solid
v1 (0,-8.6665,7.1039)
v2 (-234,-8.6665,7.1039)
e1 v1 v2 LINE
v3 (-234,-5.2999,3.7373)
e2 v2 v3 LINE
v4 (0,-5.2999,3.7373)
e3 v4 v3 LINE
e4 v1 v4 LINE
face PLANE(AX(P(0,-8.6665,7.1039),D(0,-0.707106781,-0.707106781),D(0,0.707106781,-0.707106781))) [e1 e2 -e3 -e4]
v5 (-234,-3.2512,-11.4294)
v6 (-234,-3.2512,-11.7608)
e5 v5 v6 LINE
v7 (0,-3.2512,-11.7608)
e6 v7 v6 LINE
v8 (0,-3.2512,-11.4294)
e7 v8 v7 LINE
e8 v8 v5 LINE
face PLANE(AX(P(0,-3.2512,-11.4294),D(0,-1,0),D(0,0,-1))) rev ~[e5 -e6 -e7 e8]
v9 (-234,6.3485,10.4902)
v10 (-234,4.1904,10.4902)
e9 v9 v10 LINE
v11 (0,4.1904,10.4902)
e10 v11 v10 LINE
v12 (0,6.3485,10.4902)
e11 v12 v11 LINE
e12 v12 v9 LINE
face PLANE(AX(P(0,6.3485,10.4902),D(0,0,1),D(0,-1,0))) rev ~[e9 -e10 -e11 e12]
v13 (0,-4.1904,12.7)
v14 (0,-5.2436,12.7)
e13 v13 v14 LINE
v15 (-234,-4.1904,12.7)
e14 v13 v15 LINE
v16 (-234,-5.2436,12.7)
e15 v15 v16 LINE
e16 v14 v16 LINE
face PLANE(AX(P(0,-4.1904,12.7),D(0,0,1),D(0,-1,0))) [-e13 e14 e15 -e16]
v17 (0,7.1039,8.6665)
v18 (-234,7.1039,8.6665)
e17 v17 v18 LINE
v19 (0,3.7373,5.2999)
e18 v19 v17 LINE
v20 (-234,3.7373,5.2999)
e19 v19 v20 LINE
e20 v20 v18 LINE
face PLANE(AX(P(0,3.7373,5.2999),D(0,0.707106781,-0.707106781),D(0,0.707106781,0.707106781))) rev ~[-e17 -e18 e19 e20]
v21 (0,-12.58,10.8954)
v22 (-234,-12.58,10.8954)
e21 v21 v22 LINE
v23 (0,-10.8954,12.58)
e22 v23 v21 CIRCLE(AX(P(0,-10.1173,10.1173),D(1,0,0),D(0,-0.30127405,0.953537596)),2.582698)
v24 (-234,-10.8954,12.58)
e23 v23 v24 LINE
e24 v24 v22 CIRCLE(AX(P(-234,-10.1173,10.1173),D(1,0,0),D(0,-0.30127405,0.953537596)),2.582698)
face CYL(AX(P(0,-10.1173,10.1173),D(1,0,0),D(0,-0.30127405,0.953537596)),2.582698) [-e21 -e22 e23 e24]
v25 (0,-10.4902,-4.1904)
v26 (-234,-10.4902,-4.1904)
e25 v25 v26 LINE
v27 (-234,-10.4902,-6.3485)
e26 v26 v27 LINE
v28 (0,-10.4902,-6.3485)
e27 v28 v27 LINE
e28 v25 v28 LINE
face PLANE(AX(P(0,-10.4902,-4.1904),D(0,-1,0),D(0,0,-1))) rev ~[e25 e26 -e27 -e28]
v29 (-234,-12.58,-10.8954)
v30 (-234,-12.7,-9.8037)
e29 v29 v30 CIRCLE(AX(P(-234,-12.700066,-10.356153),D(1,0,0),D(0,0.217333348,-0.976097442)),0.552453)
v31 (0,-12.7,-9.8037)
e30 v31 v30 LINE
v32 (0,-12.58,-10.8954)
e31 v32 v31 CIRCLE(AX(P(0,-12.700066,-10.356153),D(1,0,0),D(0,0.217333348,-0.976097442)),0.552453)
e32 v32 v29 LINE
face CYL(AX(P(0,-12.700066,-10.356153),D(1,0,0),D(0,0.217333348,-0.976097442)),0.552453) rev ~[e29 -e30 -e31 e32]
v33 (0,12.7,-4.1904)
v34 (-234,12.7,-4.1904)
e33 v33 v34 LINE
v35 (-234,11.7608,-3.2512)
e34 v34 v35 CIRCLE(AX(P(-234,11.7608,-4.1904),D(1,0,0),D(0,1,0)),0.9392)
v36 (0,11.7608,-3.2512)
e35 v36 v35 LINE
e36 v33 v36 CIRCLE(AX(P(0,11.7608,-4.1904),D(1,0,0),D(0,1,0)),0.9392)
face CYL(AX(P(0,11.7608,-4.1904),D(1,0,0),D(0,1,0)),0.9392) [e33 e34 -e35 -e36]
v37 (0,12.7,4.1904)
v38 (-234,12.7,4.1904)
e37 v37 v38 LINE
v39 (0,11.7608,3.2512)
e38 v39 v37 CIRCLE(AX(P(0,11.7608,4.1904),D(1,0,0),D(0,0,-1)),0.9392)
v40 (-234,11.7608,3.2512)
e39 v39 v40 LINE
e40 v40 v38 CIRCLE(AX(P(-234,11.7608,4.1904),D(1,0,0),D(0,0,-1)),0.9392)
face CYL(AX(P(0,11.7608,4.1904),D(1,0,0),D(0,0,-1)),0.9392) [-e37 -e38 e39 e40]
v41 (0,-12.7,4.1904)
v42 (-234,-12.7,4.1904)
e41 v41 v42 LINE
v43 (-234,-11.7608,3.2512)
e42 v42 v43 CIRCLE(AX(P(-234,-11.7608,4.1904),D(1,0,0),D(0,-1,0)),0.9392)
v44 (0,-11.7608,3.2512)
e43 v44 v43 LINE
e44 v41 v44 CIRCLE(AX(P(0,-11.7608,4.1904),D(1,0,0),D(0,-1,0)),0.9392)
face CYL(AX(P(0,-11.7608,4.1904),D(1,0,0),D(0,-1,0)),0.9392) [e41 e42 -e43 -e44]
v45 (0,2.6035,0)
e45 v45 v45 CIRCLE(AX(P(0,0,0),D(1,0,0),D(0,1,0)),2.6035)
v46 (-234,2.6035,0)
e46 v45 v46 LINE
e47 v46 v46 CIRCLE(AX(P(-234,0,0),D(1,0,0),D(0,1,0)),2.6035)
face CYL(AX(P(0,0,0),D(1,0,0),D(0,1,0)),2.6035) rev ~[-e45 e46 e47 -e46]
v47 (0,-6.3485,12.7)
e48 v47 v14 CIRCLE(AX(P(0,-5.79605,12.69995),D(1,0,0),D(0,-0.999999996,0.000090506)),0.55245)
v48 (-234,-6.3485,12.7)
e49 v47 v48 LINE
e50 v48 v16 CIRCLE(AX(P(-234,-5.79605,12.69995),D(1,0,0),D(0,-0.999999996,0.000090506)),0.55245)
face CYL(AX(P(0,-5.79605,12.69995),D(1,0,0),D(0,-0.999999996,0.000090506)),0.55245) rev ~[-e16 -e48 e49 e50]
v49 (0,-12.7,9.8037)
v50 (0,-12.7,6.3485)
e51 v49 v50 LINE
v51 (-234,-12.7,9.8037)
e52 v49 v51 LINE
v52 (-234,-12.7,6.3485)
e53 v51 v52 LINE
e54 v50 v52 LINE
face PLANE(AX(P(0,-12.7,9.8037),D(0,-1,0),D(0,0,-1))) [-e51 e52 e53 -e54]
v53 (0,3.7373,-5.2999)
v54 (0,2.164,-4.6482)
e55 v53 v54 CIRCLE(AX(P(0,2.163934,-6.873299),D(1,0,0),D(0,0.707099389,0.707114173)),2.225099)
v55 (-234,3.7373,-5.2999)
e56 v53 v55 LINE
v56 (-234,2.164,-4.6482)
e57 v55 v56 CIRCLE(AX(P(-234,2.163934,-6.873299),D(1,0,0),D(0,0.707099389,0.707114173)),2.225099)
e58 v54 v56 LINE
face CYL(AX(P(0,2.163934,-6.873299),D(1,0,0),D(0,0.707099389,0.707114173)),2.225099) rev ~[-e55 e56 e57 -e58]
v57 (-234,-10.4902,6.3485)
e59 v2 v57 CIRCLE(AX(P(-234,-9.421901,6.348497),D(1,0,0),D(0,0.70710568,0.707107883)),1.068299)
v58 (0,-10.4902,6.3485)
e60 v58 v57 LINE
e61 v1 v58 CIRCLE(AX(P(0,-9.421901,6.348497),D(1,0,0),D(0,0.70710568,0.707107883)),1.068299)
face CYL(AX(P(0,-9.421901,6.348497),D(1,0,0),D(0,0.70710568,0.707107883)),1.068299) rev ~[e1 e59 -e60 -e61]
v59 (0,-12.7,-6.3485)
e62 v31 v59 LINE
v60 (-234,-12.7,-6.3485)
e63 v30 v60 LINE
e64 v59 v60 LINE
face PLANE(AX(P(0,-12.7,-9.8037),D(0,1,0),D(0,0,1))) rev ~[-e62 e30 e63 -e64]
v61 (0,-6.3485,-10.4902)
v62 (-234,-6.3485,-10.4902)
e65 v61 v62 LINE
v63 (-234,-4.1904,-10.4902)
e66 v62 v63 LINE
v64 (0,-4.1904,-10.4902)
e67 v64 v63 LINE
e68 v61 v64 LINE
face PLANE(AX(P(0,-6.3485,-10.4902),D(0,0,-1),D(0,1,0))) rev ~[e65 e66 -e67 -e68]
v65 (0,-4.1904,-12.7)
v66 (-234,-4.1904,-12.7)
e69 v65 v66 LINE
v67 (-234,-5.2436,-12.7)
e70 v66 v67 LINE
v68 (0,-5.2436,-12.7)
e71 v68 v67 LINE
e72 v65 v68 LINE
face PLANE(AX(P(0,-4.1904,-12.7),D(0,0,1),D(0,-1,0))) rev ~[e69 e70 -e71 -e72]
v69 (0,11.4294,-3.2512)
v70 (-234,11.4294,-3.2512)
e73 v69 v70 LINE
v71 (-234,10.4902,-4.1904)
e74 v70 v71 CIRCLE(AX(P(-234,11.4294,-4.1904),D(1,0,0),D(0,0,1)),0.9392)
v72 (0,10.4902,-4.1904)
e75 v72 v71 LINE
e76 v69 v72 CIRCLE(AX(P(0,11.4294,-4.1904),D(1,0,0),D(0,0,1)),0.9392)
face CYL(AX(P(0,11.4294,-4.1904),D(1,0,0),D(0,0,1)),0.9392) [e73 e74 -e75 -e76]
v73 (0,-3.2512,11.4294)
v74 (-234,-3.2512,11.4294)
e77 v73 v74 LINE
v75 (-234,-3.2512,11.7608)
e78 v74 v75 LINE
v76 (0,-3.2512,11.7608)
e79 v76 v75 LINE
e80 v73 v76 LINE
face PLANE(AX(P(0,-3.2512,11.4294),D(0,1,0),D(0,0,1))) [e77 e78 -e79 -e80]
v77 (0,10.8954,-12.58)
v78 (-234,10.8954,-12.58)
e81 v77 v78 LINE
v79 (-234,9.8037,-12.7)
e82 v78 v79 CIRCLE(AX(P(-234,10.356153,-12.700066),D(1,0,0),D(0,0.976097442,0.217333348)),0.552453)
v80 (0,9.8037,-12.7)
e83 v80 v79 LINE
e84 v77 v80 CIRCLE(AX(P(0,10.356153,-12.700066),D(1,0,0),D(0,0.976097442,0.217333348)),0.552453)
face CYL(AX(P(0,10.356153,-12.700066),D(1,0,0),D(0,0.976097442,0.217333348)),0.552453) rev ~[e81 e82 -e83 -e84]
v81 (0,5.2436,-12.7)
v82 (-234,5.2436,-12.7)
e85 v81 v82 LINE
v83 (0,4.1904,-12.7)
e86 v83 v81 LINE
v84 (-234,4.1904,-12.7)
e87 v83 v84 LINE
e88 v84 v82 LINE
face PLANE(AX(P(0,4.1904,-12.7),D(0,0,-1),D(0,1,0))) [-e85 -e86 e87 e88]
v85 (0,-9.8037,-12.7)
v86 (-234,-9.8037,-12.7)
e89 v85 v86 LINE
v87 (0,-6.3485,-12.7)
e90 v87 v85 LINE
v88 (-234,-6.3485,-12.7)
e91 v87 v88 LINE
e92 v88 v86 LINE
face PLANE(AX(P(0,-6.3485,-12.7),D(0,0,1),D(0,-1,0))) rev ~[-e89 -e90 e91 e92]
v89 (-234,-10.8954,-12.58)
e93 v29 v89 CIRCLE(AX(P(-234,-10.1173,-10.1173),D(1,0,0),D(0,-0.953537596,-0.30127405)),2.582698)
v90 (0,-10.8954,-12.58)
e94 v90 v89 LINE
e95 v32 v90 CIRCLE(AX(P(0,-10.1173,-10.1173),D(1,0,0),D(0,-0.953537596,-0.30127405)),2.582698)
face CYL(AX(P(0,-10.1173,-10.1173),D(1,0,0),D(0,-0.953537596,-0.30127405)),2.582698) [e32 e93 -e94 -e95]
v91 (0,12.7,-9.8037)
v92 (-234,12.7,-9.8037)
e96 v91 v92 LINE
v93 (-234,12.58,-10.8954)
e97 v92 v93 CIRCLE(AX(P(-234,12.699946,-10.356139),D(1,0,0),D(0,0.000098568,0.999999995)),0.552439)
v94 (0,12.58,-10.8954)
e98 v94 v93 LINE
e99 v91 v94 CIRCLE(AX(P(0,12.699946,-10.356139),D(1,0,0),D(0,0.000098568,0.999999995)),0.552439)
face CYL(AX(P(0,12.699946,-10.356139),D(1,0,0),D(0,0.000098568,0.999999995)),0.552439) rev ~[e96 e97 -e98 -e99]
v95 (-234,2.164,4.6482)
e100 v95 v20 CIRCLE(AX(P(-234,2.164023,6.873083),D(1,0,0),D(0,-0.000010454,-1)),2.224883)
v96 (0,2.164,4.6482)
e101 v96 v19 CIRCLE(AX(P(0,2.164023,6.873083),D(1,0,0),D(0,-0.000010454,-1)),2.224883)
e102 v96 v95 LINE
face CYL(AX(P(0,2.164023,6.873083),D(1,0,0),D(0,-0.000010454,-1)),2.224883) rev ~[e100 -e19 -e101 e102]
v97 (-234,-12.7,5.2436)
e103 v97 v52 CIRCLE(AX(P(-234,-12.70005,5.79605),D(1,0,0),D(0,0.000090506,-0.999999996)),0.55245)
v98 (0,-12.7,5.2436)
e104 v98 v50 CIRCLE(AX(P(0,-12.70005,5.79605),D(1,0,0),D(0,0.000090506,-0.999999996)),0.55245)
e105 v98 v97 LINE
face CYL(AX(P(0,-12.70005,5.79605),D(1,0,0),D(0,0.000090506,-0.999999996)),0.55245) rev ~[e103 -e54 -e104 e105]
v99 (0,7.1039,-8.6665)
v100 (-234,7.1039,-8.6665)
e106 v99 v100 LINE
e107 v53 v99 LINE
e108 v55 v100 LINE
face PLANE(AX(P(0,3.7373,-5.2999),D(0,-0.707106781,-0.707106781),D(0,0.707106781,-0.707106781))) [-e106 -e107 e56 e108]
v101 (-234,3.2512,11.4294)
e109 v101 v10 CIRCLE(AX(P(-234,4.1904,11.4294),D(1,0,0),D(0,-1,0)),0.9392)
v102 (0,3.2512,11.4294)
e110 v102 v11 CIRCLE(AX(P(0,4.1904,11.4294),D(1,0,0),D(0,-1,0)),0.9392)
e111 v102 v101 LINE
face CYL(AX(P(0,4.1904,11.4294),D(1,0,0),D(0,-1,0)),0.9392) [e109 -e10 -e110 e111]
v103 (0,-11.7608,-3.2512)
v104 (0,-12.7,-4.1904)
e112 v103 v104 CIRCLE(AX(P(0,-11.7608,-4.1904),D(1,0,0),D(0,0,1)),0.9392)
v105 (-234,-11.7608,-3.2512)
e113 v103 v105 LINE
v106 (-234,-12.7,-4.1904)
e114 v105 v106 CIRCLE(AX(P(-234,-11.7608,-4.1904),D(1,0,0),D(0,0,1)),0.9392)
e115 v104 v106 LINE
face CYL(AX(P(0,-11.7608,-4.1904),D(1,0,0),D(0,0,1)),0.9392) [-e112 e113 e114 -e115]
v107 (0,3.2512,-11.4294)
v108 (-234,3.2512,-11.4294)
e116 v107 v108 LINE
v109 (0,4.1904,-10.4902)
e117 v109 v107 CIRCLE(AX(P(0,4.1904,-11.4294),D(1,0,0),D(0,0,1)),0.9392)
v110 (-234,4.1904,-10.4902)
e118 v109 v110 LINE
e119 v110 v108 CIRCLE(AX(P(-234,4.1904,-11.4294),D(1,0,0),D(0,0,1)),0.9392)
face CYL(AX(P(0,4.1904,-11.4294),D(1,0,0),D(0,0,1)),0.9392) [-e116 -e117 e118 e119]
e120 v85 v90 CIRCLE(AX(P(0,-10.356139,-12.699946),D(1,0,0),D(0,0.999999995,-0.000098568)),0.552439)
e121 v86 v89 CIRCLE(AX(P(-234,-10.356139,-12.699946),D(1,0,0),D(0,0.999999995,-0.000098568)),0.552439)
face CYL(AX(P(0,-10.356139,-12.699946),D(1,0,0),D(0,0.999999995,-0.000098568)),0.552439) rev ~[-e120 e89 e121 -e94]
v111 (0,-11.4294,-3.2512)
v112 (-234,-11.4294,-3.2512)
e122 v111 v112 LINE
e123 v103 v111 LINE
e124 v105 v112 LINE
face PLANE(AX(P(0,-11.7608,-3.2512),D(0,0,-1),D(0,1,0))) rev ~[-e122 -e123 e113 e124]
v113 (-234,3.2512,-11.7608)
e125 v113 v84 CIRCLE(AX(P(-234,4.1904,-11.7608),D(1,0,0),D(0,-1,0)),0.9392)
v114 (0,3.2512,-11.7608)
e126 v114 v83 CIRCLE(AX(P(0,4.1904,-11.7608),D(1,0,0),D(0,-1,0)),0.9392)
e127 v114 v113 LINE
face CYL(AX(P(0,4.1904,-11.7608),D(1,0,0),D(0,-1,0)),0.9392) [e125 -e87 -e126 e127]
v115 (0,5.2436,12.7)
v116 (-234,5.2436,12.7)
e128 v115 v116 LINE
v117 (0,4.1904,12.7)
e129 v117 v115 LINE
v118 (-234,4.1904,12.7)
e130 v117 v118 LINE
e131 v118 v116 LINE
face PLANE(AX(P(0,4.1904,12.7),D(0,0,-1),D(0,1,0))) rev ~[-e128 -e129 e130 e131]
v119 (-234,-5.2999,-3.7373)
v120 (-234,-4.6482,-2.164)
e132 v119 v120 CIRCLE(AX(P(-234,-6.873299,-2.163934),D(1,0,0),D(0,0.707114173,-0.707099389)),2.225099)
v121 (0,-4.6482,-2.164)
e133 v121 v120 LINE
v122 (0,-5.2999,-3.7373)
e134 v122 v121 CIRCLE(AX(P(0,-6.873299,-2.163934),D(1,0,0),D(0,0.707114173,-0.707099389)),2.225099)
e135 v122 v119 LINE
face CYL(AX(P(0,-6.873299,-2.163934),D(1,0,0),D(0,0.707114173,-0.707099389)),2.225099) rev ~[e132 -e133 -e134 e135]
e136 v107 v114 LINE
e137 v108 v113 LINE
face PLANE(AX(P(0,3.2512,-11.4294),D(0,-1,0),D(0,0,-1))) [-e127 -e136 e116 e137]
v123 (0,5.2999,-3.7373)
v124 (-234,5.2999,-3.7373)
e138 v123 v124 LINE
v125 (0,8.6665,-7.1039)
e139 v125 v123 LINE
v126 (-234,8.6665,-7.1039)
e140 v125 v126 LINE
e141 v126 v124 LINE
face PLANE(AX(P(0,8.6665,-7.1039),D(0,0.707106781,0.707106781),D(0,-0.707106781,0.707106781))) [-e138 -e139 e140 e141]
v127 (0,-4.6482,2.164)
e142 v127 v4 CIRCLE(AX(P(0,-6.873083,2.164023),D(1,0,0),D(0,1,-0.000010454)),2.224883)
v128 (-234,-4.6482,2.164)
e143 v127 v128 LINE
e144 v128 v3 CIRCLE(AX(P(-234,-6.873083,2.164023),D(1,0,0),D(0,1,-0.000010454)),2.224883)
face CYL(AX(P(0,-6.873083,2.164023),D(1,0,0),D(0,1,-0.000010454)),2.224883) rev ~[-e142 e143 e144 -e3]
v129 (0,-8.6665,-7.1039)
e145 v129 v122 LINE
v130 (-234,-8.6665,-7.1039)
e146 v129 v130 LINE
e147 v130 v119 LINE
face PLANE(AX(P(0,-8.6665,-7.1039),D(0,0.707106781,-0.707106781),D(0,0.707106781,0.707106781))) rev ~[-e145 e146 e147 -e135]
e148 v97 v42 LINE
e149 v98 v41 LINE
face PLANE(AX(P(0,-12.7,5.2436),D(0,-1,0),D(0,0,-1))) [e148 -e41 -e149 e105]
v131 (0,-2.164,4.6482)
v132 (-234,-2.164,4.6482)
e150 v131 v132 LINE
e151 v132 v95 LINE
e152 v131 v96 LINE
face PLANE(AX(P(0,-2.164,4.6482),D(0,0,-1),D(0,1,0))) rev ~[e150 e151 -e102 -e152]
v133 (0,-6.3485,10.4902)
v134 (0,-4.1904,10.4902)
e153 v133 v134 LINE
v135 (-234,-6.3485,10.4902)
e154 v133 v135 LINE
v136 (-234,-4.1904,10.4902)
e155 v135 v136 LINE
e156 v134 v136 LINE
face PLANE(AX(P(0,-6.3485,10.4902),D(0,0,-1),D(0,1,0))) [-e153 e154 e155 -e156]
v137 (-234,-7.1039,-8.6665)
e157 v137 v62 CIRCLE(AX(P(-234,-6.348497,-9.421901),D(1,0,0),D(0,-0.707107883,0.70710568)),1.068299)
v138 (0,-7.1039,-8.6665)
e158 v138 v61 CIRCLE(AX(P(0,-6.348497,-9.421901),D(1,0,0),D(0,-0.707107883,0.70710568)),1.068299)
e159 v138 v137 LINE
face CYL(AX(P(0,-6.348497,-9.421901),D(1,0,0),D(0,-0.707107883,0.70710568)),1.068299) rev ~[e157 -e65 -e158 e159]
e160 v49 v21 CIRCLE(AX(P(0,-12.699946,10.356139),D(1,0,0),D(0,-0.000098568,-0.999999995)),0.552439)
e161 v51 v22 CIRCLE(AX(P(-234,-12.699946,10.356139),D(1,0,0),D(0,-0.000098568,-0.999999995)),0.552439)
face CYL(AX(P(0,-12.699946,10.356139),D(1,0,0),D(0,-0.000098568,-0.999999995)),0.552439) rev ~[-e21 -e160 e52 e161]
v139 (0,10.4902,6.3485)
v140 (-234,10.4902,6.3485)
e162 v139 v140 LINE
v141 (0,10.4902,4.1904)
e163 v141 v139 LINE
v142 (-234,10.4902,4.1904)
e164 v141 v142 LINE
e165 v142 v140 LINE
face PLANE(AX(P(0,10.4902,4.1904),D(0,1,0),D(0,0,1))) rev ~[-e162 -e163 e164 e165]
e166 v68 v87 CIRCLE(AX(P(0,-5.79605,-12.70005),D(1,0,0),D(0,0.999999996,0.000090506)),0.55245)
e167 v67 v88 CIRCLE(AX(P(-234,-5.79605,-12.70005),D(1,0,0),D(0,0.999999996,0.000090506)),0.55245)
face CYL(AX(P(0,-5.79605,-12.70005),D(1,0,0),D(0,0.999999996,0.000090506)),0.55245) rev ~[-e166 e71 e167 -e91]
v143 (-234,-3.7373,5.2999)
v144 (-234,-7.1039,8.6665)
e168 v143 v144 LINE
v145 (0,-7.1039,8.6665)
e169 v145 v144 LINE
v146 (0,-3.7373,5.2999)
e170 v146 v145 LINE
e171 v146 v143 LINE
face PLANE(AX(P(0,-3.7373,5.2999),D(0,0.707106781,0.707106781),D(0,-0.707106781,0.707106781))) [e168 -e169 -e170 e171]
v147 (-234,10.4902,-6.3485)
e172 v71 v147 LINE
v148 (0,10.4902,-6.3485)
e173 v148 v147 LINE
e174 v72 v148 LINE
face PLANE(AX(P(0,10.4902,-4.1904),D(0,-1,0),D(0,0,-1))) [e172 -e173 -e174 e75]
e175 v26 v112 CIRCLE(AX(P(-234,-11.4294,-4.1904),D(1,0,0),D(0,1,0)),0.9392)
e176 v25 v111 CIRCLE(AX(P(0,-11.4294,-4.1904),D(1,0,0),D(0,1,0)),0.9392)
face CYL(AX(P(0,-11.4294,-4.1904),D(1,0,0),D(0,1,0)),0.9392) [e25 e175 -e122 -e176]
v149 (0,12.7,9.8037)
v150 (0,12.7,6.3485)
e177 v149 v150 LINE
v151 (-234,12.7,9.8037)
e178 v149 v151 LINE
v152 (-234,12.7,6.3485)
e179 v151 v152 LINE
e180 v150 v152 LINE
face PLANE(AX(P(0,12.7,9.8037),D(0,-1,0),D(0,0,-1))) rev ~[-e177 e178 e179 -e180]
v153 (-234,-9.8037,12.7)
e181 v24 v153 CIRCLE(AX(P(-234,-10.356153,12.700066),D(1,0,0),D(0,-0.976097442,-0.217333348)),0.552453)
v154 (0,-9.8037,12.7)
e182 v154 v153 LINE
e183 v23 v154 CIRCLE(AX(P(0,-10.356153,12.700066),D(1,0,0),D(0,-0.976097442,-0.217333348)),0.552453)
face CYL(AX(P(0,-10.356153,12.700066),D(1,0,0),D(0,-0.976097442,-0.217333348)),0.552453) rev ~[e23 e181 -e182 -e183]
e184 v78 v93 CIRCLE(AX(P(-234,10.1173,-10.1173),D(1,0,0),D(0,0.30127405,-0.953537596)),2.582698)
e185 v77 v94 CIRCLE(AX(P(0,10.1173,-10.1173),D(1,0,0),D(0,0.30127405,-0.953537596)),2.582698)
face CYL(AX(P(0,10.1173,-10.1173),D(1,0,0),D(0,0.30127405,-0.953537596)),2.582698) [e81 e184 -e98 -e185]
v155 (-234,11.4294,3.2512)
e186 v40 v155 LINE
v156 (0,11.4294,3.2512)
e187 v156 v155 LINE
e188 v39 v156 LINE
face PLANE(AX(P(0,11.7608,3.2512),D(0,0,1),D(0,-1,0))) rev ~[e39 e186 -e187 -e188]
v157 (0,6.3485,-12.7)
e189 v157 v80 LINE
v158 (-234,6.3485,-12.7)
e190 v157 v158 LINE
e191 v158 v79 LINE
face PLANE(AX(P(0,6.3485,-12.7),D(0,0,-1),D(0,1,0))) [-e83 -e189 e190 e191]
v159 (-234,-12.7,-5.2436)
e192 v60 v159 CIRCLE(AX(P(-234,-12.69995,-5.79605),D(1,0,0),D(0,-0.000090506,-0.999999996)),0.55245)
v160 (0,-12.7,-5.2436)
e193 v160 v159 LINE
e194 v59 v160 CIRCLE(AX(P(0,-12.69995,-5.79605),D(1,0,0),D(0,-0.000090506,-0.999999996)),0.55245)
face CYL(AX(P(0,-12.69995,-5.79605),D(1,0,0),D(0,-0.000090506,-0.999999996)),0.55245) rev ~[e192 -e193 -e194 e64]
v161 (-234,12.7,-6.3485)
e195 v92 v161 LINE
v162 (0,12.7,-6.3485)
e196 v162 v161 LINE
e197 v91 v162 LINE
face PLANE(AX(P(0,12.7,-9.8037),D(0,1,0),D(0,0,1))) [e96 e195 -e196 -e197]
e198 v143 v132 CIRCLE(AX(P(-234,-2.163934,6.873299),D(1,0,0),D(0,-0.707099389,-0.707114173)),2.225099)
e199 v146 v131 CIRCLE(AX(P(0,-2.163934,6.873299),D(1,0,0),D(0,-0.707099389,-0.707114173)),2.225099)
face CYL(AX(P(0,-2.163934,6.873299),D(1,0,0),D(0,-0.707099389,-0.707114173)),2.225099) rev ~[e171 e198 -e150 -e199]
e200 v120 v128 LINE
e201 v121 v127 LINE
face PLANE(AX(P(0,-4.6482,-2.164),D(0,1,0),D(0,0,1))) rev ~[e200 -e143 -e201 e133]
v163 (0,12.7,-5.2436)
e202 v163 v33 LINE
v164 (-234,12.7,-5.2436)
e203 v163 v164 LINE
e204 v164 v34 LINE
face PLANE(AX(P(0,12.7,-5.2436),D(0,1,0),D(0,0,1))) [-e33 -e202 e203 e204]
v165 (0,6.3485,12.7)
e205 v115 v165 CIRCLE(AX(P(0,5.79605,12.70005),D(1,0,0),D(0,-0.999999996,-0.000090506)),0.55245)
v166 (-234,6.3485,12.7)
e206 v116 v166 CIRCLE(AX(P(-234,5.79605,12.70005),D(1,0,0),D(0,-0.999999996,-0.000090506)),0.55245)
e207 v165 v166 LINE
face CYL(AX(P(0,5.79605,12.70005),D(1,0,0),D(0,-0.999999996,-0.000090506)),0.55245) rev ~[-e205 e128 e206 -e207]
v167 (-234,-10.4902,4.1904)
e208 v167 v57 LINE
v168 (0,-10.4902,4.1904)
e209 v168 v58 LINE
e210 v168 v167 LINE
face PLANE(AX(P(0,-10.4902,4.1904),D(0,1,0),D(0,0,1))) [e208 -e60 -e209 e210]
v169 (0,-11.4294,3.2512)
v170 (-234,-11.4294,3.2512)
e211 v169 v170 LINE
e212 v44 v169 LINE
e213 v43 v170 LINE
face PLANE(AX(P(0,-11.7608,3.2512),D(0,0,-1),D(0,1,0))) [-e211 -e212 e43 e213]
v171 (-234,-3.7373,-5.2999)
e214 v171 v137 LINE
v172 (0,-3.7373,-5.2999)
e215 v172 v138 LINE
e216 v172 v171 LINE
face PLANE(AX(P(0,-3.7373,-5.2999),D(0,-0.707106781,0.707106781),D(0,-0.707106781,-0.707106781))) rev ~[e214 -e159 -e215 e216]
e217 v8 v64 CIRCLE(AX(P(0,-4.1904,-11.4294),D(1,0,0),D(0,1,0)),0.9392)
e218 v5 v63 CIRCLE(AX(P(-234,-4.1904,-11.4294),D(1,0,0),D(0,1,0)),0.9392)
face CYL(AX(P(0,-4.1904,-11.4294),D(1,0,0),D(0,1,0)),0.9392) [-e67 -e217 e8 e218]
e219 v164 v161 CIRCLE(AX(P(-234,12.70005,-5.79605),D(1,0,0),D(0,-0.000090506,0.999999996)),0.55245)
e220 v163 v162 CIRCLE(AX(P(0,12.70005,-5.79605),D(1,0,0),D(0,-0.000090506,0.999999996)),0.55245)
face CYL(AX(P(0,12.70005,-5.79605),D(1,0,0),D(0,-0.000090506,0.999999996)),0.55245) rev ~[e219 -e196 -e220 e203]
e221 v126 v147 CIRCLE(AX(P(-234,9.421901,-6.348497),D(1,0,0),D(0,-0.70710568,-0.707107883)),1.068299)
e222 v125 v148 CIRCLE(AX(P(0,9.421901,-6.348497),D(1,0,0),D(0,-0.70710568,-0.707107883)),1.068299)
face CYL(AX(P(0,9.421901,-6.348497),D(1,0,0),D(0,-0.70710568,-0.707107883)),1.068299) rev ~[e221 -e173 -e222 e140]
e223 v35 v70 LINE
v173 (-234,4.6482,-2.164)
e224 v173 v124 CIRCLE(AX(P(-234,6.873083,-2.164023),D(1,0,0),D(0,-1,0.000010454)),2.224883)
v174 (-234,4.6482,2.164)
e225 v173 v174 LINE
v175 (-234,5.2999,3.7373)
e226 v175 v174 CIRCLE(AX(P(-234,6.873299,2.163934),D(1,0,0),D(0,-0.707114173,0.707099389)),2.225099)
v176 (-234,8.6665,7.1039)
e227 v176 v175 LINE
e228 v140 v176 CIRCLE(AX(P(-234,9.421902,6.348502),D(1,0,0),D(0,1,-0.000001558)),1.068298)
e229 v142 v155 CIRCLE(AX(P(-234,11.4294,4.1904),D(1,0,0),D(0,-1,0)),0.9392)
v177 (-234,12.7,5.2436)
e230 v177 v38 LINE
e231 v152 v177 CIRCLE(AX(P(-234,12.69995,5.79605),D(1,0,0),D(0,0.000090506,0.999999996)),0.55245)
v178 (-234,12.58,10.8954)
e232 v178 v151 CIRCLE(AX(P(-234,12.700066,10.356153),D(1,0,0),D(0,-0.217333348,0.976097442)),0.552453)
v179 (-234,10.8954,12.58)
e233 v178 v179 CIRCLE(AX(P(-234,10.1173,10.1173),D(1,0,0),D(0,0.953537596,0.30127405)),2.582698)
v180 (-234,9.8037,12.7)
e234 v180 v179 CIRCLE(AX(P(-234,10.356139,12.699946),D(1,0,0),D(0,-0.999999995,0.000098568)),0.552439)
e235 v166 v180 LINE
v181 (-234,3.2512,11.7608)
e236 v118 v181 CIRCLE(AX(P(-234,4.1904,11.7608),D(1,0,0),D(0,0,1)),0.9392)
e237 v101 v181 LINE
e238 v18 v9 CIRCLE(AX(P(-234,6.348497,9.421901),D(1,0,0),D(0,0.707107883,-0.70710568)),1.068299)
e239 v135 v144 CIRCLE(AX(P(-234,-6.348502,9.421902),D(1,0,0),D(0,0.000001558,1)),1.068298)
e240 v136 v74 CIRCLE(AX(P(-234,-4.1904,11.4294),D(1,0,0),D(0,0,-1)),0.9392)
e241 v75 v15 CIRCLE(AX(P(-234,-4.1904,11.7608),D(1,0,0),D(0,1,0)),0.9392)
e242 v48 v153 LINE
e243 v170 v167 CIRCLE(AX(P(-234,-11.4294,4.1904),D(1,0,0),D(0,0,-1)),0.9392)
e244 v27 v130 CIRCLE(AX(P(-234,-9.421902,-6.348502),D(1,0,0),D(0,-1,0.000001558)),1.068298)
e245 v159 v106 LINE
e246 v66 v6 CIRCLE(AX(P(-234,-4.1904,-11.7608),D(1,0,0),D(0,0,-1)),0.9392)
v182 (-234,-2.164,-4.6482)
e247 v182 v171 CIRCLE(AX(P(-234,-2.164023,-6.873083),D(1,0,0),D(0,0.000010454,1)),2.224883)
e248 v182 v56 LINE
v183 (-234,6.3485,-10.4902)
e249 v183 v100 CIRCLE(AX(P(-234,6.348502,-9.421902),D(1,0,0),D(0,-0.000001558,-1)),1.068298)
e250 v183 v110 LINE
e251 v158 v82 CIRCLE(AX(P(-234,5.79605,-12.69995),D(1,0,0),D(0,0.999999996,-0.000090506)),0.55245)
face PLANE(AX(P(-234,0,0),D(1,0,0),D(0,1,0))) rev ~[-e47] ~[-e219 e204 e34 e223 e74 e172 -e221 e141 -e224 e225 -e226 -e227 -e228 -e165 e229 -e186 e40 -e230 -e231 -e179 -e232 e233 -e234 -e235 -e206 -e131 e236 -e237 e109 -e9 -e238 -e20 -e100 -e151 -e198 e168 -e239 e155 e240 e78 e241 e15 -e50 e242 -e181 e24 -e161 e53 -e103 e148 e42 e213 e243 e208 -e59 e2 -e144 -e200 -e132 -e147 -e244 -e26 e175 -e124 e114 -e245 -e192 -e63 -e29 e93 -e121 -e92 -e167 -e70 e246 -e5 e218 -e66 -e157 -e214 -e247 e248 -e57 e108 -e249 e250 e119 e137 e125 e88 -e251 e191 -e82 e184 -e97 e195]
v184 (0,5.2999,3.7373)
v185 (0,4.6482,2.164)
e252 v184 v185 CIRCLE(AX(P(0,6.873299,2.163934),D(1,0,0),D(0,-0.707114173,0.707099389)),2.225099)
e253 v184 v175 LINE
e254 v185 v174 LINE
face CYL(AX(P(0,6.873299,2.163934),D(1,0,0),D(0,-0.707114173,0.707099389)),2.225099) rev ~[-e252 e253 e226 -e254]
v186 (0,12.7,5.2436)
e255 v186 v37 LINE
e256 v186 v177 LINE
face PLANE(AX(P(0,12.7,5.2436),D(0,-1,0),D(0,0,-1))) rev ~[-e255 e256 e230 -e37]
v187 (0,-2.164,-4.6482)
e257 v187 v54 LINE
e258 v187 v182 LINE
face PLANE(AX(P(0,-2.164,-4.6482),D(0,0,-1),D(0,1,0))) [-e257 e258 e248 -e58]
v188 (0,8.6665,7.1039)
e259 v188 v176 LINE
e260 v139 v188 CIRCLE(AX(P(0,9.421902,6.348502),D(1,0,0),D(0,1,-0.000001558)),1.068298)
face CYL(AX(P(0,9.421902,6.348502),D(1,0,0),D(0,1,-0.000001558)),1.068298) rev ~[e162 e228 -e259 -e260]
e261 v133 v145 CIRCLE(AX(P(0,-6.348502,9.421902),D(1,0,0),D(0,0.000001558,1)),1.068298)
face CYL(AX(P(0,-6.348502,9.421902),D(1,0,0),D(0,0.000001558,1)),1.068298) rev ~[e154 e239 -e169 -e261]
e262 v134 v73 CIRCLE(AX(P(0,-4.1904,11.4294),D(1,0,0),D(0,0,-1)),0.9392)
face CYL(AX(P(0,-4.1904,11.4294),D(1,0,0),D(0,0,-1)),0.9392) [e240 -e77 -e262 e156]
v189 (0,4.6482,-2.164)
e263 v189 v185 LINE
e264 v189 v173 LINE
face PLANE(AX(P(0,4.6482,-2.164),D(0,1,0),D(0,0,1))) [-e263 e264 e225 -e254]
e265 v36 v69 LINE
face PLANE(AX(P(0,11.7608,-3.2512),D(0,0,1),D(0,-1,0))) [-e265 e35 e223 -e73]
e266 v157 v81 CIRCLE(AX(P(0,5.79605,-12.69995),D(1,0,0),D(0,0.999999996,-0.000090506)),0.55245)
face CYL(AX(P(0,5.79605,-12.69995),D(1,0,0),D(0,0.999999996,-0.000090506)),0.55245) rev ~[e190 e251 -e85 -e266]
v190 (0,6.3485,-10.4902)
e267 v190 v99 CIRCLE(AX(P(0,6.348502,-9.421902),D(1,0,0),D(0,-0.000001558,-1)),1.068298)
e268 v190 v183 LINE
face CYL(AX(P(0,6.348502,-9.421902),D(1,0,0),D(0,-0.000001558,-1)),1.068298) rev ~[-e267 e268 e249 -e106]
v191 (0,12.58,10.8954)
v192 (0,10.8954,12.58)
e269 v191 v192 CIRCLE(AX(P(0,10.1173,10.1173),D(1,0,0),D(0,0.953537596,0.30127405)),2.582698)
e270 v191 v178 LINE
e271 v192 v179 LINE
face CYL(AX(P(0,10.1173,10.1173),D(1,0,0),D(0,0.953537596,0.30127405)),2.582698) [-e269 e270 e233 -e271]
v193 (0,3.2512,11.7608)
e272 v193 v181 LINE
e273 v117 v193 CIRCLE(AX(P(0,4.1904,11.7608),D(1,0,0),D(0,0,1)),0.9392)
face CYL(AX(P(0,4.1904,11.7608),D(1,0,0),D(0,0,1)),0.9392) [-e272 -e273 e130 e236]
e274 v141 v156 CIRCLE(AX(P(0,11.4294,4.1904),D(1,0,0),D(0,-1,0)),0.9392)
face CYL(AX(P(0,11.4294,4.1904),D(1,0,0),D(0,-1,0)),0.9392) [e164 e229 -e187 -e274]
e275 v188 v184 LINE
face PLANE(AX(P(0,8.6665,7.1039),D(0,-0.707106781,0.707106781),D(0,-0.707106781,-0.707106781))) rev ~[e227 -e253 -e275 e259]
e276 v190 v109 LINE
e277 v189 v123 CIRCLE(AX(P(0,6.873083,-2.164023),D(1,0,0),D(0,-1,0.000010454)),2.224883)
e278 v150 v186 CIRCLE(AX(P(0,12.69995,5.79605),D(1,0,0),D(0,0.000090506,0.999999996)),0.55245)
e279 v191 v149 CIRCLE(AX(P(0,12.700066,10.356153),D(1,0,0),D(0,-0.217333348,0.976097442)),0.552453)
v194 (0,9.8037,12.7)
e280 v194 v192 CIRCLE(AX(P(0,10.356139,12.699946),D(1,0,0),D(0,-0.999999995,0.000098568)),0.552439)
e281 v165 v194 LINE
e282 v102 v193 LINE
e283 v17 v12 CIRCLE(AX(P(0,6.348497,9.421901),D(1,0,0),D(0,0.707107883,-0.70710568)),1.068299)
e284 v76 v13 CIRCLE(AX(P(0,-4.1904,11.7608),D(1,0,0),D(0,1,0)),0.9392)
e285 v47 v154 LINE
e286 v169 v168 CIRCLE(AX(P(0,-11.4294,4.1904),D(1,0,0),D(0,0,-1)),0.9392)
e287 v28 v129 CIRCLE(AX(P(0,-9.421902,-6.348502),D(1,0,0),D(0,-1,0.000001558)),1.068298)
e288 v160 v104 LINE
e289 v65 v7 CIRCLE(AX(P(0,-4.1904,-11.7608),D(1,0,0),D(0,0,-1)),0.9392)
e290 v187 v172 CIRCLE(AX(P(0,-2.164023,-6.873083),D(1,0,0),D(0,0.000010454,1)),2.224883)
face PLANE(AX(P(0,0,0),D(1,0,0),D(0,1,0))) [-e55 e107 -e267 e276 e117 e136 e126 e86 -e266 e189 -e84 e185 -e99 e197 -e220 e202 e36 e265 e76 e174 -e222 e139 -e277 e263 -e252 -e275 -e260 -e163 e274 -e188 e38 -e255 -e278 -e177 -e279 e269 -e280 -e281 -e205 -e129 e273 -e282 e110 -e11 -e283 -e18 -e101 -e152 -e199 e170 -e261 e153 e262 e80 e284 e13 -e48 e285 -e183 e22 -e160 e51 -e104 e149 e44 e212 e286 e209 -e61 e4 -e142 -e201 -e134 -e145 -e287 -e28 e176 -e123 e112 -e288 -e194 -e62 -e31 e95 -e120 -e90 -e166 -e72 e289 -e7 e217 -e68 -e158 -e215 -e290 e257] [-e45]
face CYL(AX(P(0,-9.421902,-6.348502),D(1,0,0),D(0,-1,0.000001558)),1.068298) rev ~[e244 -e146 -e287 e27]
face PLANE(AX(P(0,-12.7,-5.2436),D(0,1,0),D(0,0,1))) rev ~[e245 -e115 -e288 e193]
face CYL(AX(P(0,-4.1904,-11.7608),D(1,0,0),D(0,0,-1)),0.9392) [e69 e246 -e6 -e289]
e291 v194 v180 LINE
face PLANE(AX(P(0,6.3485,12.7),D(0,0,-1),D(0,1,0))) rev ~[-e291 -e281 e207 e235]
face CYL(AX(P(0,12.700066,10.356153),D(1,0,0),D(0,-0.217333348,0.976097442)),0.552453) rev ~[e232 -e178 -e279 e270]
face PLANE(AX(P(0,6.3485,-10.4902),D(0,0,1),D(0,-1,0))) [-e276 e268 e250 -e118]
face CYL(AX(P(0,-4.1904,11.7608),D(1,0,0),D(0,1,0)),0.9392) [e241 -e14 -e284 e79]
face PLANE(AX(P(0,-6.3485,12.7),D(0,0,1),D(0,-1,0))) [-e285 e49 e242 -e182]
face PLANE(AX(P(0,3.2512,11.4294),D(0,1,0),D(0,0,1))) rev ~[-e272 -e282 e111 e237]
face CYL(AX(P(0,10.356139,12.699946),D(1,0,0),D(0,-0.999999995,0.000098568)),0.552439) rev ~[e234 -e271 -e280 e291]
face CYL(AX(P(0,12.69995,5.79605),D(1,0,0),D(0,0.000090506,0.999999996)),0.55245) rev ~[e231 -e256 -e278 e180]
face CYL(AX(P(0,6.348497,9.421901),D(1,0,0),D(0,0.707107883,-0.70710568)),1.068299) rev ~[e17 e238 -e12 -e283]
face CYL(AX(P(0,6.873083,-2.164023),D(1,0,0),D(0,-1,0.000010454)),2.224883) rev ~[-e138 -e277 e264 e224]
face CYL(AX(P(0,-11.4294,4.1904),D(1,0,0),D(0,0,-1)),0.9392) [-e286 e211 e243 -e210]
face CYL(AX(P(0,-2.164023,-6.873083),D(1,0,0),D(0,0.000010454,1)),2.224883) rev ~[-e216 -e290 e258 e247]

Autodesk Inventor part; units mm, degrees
ref_plane "YZ Plane" through (0, 0, 0) normal (1, 0, 0) x (0, 1, 0)
ref_plane "XZ Plane" through (0, 0, 0) normal (0, 1, 0) x (-1, 0, 0)
ref_plane "XY Plane" through (0, 0, 0) normal (0, 0, 1) x (1, 0, 0)
sketch "Sketch1" plane through (0, 0, 0) normal (1, 0, 0) x (0, 1, 0)
  arc A0 (12.7, -5.2436) -> (12.7, -6.3485) centre (12.7, -5.796) ccw
  line L0 (12.7, -5.2436) -> (12.7, -4.1904)
  arc A1 (12.7, -4.1904) -> (11.7608, -3.2512) centre (11.7608, -4.1904) ccw
  line L1 (11.7608, -3.2512) -> (11.4294, -3.2512)
  arc A2 (11.4294, -3.2512) -> (10.4902, -4.1904) centre (11.4294, -4.1904) ccw
  line L2 (10.4902, -4.1904) -> (10.4902, -6.3485)
  arc A3 (8.6665, -7.1039) -> (10.4902, -6.3485) centre (9.4219, -6.3485) ccw
  line L3 (8.6665, -7.1039) -> (5.2999, -3.7373)
  arc A4 (4.6482, -2.164) -> (5.2999, -3.7373) centre (6.8732, -2.164) ccw
  line L4 (4.6482, -2.164) -> (4.6482, 2.164)
  arc A5 (5.2999, 3.7373) -> (4.6482, 2.164) centre (6.8732, 2.164) ccw
  line L5 (8.6665, 7.1039) -> (5.2999, 3.7373)
  arc A6 (10.4902, 6.3485) -> (8.6665, 7.1039) centre (9.4219, 6.3485) ccw
  line L6 (10.4902, 4.1904) -> (10.4902, 6.3485)
  arc A7 (10.4902, 4.1904) -> (11.4294, 3.2512) centre (11.4294, 4.1904) ccw
  line L7 (11.7608, 3.2512) -> (11.4294, 3.2512)
  arc A8 (11.7608, 3.2512) -> (12.7, 4.1904) centre (11.7608, 4.1904) ccw
  line L8 (12.7, 5.2436) -> (12.7, 4.1904)
  arc A9 (12.7, 6.3485) -> (12.7, 5.2436) centre (12.7, 5.796) ccw
  line L9 (12.7, 9.8037) -> (12.7, 6.3485)
  arc A10 (12.58, 10.8954) -> (12.7, 9.8037) centre (12.7, 10.3562) ccw
  arc A11 (12.58, 10.8954) -> (10.8954, 12.58) centre (10.1173, 10.1173) ccw
  arc A12 (9.8037, 12.7) -> (10.8954, 12.58) centre (10.3562, 12.7) ccw
  line L10 (6.3485, 12.7) -> (9.8037, 12.7)
  arc A13 (5.2436, 12.7) -> (6.3485, 12.7) centre (5.796, 12.7) ccw
  line L11 (4.1904, 12.7) -> (5.2436, 12.7)
  arc A14 (4.1904, 12.7) -> (3.2512, 11.7608) centre (4.1904, 11.7608) ccw
  line L12 (3.2512, 11.4294) -> (3.2512, 11.7608)
  arc A15 (3.2512, 11.4294) -> (4.1904, 10.4902) centre (4.1904, 11.4294) ccw
  line L13 (6.3485, 10.4902) -> (4.1904, 10.4902)
  arc A16 (7.1039, 8.6665) -> (6.3485, 10.4902) centre (6.3485, 9.4219) ccw
  line L14 (3.7373, 5.2999) -> (7.1039, 8.6665)
  arc A17 (2.164, 4.6482) -> (3.7373, 5.2999) centre (2.164, 6.8732) ccw
  line L15 (-2.164, 4.6482) -> (2.164, 4.6482)
  arc A18 (-3.7373, 5.2999) -> (-2.164, 4.6482) centre (-2.164, 6.8732) ccw
  line L16 (-3.7373, 5.2999) -> (-7.1039, 8.6665)
  arc A19 (-6.3485, 10.4902) -> (-7.1039, 8.6665) centre (-6.3485, 9.4219) ccw
  line L17 (-6.3485, 10.4902) -> (-4.1904, 10.4902)
  arc A20 (-4.1904, 10.4902) -> (-3.2512, 11.4294) centre (-4.1904, 11.4294) ccw
  line L18 (-3.2512, 11.4294) -> (-3.2512, 11.7608)
  arc A21 (-3.2512, 11.7608) -> (-4.1904, 12.7) centre (-4.1904, 11.7608) ccw
  line L19 (-4.1904, 12.7) -> (-5.2436, 12.7)
  arc A22 (-6.3485, 12.7) -> (-5.2436, 12.7) centre (-5.796, 12.7) ccw
  line L20 (-6.3485, 12.7) -> (-9.8037, 12.7)
  arc A23 (-10.8954, 12.58) -> (-9.8037, 12.7) centre (-10.3562, 12.7) ccw
  arc A24 (-10.8954, 12.58) -> (-12.58, 10.8954) centre (-10.1173, 10.1173) ccw
  arc A25 (-12.7, 9.8037) -> (-12.58, 10.8954) centre (-12.7, 10.3562) ccw
  line L21 (-12.7, 9.8037) -> (-12.7, 6.3485)
  arc A26 (-12.7, 5.2436) -> (-12.7, 6.3485) centre (-12.7, 5.796) ccw
  line L22 (-12.7, 5.2436) -> (-12.7, 4.1904)
  arc A27 (-12.7, 4.1904) -> (-11.7608, 3.2512) centre (-11.7608, 4.1904) ccw
  line L23 (-11.7608, 3.2512) -> (-11.4294, 3.2512)
  arc A28 (-11.4294, 3.2512) -> (-10.4902, 4.1904) centre (-11.4294, 4.1904) ccw
  line L24 (-10.4902, 4.1904) -> (-10.4902, 6.3485)
  arc A29 (-8.6665, 7.1039) -> (-10.4902, 6.3485) centre (-9.4219, 6.3485) ccw
  line L25 (-8.6665, 7.1039) -> (-5.2999, 3.7373)
  arc A30 (-4.6482, 2.164) -> (-5.2999, 3.7373) centre (-6.8732, 2.164) ccw
  line L26 (-4.6482, -2.164) -> (-4.6482, 2.164)
  arc A31 (-5.2999, -3.7373) -> (-4.6482, -2.164) centre (-6.8732, -2.164) ccw
  line L27 (-8.6665, -7.1039) -> (-5.2999, -3.7373)
  arc A32 (-10.4902, -6.3485) -> (-8.6665, -7.1039) centre (-9.4219, -6.3485) ccw
  line L28 (-10.4902, -4.1904) -> (-10.4902, -6.3485)
  arc A33 (-10.4902, -4.1904) -> (-11.4294, -3.2512) centre (-11.4294, -4.1904) ccw
  line L29 (-11.7608, -3.2512) -> (-11.4294, -3.2512)
  arc A34 (-11.7608, -3.2512) -> (-12.7, -4.1904) centre (-11.7608, -4.1904) ccw
  line L30 (-12.7, -5.2436) -> (-12.7, -4.1904)
  arc A35 (-12.7, -6.3485) -> (-12.7, -5.2436) centre (-12.7, -5.796) ccw
  line L31 (-12.7, -9.8037) -> (-12.7, -6.3485)
  arc A36 (-12.58, -10.8954) -> (-12.7, -9.8037) centre (-12.7, -10.3562) ccw
  arc A37 (-12.58, -10.8954) -> (-10.8954, -12.58) centre (-10.1173, -10.1173) ccw
  arc A38 (-9.8037, -12.7) -> (-10.8954, -12.58) centre (-10.3562, -12.7) ccw
  line L32 (-6.3485, -12.7) -> (-9.8037, -12.7)
  arc A39 (-5.2436, -12.7) -> (-6.3485, -12.7) centre (-5.796, -12.7) ccw
  line L33 (-4.1904, -12.7) -> (-5.2436, -12.7)
  arc A40 (-4.1904, -12.7) -> (-3.2512, -11.7608) centre (-4.1904, -11.7608) ccw
  line L34 (-3.2512, -11.4294) -> (-3.2512, -11.7608)
  arc A41 (-3.2512, -11.4294) -> (-4.1904, -10.4902) centre (-4.1904, -11.4294) ccw
  line L35 (-6.3485, -10.4902) -> (-4.1904, -10.4902)
  arc A42 (-7.1039, -8.6665) -> (-6.3485, -10.4902) centre (-6.3485, -9.4219) ccw
  line L36 (-3.7373, -5.2999) -> (-7.1039, -8.6665)
  arc A43 (-2.164, -4.6482) -> (-3.7373, -5.2999) centre (-2.164, -6.8732) ccw
  line L37 (-2.164, -4.6482) -> (2.164, -4.6482)
  arc A44 (3.7373, -5.2999) -> (2.164, -4.6482) centre (2.164, -6.8732) ccw
  line L38 (3.7373, -5.2999) -> (7.1039, -8.6665)
  arc A45 (6.3485, -10.4902) -> (7.1039, -8.6665) centre (6.3485, -9.4219) ccw
  line L39 (6.3485, -10.4902) -> (4.1904, -10.4902)
  arc A46 (4.1904, -10.4902) -> (3.2512, -11.4294) centre (4.1904, -11.4294) ccw
  line L40 (3.2512, -11.4294) -> (3.2512, -11.7608)
  arc A47 (3.2512, -11.7608) -> (4.1904, -12.7) centre (4.1904, -11.7608) ccw
  line L41 (4.1904, -12.7) -> (5.2436, -12.7)
  arc A48 (6.3485, -12.7) -> (5.2436, -12.7) centre (5.796, -12.7) ccw
  line L42 (6.3485, -12.7) -> (9.8037, -12.7)
  arc A49 (10.8954, -12.58) -> (9.8037, -12.7) centre (10.3562, -12.7) ccw
  arc A50 (10.8954, -12.58) -> (12.58, -10.8954) centre (10.1173, -10.1173) ccw
  arc A51 (12.7, -9.8037) -> (12.58, -10.8954) centre (12.7, -10.3562) ccw
  line L43 (12.7, -9.8037) -> (12.7, -6.3485)
  circle A52 centre (0, 0) radius 2.6035
  point P0 (0, 0)
  point P1 (0, 0)
extrude "Extrusion1" add sketch "Sketch1" against normal blind 234
properties part number "horizontalStrutLower" material "Aluminum 6061"
